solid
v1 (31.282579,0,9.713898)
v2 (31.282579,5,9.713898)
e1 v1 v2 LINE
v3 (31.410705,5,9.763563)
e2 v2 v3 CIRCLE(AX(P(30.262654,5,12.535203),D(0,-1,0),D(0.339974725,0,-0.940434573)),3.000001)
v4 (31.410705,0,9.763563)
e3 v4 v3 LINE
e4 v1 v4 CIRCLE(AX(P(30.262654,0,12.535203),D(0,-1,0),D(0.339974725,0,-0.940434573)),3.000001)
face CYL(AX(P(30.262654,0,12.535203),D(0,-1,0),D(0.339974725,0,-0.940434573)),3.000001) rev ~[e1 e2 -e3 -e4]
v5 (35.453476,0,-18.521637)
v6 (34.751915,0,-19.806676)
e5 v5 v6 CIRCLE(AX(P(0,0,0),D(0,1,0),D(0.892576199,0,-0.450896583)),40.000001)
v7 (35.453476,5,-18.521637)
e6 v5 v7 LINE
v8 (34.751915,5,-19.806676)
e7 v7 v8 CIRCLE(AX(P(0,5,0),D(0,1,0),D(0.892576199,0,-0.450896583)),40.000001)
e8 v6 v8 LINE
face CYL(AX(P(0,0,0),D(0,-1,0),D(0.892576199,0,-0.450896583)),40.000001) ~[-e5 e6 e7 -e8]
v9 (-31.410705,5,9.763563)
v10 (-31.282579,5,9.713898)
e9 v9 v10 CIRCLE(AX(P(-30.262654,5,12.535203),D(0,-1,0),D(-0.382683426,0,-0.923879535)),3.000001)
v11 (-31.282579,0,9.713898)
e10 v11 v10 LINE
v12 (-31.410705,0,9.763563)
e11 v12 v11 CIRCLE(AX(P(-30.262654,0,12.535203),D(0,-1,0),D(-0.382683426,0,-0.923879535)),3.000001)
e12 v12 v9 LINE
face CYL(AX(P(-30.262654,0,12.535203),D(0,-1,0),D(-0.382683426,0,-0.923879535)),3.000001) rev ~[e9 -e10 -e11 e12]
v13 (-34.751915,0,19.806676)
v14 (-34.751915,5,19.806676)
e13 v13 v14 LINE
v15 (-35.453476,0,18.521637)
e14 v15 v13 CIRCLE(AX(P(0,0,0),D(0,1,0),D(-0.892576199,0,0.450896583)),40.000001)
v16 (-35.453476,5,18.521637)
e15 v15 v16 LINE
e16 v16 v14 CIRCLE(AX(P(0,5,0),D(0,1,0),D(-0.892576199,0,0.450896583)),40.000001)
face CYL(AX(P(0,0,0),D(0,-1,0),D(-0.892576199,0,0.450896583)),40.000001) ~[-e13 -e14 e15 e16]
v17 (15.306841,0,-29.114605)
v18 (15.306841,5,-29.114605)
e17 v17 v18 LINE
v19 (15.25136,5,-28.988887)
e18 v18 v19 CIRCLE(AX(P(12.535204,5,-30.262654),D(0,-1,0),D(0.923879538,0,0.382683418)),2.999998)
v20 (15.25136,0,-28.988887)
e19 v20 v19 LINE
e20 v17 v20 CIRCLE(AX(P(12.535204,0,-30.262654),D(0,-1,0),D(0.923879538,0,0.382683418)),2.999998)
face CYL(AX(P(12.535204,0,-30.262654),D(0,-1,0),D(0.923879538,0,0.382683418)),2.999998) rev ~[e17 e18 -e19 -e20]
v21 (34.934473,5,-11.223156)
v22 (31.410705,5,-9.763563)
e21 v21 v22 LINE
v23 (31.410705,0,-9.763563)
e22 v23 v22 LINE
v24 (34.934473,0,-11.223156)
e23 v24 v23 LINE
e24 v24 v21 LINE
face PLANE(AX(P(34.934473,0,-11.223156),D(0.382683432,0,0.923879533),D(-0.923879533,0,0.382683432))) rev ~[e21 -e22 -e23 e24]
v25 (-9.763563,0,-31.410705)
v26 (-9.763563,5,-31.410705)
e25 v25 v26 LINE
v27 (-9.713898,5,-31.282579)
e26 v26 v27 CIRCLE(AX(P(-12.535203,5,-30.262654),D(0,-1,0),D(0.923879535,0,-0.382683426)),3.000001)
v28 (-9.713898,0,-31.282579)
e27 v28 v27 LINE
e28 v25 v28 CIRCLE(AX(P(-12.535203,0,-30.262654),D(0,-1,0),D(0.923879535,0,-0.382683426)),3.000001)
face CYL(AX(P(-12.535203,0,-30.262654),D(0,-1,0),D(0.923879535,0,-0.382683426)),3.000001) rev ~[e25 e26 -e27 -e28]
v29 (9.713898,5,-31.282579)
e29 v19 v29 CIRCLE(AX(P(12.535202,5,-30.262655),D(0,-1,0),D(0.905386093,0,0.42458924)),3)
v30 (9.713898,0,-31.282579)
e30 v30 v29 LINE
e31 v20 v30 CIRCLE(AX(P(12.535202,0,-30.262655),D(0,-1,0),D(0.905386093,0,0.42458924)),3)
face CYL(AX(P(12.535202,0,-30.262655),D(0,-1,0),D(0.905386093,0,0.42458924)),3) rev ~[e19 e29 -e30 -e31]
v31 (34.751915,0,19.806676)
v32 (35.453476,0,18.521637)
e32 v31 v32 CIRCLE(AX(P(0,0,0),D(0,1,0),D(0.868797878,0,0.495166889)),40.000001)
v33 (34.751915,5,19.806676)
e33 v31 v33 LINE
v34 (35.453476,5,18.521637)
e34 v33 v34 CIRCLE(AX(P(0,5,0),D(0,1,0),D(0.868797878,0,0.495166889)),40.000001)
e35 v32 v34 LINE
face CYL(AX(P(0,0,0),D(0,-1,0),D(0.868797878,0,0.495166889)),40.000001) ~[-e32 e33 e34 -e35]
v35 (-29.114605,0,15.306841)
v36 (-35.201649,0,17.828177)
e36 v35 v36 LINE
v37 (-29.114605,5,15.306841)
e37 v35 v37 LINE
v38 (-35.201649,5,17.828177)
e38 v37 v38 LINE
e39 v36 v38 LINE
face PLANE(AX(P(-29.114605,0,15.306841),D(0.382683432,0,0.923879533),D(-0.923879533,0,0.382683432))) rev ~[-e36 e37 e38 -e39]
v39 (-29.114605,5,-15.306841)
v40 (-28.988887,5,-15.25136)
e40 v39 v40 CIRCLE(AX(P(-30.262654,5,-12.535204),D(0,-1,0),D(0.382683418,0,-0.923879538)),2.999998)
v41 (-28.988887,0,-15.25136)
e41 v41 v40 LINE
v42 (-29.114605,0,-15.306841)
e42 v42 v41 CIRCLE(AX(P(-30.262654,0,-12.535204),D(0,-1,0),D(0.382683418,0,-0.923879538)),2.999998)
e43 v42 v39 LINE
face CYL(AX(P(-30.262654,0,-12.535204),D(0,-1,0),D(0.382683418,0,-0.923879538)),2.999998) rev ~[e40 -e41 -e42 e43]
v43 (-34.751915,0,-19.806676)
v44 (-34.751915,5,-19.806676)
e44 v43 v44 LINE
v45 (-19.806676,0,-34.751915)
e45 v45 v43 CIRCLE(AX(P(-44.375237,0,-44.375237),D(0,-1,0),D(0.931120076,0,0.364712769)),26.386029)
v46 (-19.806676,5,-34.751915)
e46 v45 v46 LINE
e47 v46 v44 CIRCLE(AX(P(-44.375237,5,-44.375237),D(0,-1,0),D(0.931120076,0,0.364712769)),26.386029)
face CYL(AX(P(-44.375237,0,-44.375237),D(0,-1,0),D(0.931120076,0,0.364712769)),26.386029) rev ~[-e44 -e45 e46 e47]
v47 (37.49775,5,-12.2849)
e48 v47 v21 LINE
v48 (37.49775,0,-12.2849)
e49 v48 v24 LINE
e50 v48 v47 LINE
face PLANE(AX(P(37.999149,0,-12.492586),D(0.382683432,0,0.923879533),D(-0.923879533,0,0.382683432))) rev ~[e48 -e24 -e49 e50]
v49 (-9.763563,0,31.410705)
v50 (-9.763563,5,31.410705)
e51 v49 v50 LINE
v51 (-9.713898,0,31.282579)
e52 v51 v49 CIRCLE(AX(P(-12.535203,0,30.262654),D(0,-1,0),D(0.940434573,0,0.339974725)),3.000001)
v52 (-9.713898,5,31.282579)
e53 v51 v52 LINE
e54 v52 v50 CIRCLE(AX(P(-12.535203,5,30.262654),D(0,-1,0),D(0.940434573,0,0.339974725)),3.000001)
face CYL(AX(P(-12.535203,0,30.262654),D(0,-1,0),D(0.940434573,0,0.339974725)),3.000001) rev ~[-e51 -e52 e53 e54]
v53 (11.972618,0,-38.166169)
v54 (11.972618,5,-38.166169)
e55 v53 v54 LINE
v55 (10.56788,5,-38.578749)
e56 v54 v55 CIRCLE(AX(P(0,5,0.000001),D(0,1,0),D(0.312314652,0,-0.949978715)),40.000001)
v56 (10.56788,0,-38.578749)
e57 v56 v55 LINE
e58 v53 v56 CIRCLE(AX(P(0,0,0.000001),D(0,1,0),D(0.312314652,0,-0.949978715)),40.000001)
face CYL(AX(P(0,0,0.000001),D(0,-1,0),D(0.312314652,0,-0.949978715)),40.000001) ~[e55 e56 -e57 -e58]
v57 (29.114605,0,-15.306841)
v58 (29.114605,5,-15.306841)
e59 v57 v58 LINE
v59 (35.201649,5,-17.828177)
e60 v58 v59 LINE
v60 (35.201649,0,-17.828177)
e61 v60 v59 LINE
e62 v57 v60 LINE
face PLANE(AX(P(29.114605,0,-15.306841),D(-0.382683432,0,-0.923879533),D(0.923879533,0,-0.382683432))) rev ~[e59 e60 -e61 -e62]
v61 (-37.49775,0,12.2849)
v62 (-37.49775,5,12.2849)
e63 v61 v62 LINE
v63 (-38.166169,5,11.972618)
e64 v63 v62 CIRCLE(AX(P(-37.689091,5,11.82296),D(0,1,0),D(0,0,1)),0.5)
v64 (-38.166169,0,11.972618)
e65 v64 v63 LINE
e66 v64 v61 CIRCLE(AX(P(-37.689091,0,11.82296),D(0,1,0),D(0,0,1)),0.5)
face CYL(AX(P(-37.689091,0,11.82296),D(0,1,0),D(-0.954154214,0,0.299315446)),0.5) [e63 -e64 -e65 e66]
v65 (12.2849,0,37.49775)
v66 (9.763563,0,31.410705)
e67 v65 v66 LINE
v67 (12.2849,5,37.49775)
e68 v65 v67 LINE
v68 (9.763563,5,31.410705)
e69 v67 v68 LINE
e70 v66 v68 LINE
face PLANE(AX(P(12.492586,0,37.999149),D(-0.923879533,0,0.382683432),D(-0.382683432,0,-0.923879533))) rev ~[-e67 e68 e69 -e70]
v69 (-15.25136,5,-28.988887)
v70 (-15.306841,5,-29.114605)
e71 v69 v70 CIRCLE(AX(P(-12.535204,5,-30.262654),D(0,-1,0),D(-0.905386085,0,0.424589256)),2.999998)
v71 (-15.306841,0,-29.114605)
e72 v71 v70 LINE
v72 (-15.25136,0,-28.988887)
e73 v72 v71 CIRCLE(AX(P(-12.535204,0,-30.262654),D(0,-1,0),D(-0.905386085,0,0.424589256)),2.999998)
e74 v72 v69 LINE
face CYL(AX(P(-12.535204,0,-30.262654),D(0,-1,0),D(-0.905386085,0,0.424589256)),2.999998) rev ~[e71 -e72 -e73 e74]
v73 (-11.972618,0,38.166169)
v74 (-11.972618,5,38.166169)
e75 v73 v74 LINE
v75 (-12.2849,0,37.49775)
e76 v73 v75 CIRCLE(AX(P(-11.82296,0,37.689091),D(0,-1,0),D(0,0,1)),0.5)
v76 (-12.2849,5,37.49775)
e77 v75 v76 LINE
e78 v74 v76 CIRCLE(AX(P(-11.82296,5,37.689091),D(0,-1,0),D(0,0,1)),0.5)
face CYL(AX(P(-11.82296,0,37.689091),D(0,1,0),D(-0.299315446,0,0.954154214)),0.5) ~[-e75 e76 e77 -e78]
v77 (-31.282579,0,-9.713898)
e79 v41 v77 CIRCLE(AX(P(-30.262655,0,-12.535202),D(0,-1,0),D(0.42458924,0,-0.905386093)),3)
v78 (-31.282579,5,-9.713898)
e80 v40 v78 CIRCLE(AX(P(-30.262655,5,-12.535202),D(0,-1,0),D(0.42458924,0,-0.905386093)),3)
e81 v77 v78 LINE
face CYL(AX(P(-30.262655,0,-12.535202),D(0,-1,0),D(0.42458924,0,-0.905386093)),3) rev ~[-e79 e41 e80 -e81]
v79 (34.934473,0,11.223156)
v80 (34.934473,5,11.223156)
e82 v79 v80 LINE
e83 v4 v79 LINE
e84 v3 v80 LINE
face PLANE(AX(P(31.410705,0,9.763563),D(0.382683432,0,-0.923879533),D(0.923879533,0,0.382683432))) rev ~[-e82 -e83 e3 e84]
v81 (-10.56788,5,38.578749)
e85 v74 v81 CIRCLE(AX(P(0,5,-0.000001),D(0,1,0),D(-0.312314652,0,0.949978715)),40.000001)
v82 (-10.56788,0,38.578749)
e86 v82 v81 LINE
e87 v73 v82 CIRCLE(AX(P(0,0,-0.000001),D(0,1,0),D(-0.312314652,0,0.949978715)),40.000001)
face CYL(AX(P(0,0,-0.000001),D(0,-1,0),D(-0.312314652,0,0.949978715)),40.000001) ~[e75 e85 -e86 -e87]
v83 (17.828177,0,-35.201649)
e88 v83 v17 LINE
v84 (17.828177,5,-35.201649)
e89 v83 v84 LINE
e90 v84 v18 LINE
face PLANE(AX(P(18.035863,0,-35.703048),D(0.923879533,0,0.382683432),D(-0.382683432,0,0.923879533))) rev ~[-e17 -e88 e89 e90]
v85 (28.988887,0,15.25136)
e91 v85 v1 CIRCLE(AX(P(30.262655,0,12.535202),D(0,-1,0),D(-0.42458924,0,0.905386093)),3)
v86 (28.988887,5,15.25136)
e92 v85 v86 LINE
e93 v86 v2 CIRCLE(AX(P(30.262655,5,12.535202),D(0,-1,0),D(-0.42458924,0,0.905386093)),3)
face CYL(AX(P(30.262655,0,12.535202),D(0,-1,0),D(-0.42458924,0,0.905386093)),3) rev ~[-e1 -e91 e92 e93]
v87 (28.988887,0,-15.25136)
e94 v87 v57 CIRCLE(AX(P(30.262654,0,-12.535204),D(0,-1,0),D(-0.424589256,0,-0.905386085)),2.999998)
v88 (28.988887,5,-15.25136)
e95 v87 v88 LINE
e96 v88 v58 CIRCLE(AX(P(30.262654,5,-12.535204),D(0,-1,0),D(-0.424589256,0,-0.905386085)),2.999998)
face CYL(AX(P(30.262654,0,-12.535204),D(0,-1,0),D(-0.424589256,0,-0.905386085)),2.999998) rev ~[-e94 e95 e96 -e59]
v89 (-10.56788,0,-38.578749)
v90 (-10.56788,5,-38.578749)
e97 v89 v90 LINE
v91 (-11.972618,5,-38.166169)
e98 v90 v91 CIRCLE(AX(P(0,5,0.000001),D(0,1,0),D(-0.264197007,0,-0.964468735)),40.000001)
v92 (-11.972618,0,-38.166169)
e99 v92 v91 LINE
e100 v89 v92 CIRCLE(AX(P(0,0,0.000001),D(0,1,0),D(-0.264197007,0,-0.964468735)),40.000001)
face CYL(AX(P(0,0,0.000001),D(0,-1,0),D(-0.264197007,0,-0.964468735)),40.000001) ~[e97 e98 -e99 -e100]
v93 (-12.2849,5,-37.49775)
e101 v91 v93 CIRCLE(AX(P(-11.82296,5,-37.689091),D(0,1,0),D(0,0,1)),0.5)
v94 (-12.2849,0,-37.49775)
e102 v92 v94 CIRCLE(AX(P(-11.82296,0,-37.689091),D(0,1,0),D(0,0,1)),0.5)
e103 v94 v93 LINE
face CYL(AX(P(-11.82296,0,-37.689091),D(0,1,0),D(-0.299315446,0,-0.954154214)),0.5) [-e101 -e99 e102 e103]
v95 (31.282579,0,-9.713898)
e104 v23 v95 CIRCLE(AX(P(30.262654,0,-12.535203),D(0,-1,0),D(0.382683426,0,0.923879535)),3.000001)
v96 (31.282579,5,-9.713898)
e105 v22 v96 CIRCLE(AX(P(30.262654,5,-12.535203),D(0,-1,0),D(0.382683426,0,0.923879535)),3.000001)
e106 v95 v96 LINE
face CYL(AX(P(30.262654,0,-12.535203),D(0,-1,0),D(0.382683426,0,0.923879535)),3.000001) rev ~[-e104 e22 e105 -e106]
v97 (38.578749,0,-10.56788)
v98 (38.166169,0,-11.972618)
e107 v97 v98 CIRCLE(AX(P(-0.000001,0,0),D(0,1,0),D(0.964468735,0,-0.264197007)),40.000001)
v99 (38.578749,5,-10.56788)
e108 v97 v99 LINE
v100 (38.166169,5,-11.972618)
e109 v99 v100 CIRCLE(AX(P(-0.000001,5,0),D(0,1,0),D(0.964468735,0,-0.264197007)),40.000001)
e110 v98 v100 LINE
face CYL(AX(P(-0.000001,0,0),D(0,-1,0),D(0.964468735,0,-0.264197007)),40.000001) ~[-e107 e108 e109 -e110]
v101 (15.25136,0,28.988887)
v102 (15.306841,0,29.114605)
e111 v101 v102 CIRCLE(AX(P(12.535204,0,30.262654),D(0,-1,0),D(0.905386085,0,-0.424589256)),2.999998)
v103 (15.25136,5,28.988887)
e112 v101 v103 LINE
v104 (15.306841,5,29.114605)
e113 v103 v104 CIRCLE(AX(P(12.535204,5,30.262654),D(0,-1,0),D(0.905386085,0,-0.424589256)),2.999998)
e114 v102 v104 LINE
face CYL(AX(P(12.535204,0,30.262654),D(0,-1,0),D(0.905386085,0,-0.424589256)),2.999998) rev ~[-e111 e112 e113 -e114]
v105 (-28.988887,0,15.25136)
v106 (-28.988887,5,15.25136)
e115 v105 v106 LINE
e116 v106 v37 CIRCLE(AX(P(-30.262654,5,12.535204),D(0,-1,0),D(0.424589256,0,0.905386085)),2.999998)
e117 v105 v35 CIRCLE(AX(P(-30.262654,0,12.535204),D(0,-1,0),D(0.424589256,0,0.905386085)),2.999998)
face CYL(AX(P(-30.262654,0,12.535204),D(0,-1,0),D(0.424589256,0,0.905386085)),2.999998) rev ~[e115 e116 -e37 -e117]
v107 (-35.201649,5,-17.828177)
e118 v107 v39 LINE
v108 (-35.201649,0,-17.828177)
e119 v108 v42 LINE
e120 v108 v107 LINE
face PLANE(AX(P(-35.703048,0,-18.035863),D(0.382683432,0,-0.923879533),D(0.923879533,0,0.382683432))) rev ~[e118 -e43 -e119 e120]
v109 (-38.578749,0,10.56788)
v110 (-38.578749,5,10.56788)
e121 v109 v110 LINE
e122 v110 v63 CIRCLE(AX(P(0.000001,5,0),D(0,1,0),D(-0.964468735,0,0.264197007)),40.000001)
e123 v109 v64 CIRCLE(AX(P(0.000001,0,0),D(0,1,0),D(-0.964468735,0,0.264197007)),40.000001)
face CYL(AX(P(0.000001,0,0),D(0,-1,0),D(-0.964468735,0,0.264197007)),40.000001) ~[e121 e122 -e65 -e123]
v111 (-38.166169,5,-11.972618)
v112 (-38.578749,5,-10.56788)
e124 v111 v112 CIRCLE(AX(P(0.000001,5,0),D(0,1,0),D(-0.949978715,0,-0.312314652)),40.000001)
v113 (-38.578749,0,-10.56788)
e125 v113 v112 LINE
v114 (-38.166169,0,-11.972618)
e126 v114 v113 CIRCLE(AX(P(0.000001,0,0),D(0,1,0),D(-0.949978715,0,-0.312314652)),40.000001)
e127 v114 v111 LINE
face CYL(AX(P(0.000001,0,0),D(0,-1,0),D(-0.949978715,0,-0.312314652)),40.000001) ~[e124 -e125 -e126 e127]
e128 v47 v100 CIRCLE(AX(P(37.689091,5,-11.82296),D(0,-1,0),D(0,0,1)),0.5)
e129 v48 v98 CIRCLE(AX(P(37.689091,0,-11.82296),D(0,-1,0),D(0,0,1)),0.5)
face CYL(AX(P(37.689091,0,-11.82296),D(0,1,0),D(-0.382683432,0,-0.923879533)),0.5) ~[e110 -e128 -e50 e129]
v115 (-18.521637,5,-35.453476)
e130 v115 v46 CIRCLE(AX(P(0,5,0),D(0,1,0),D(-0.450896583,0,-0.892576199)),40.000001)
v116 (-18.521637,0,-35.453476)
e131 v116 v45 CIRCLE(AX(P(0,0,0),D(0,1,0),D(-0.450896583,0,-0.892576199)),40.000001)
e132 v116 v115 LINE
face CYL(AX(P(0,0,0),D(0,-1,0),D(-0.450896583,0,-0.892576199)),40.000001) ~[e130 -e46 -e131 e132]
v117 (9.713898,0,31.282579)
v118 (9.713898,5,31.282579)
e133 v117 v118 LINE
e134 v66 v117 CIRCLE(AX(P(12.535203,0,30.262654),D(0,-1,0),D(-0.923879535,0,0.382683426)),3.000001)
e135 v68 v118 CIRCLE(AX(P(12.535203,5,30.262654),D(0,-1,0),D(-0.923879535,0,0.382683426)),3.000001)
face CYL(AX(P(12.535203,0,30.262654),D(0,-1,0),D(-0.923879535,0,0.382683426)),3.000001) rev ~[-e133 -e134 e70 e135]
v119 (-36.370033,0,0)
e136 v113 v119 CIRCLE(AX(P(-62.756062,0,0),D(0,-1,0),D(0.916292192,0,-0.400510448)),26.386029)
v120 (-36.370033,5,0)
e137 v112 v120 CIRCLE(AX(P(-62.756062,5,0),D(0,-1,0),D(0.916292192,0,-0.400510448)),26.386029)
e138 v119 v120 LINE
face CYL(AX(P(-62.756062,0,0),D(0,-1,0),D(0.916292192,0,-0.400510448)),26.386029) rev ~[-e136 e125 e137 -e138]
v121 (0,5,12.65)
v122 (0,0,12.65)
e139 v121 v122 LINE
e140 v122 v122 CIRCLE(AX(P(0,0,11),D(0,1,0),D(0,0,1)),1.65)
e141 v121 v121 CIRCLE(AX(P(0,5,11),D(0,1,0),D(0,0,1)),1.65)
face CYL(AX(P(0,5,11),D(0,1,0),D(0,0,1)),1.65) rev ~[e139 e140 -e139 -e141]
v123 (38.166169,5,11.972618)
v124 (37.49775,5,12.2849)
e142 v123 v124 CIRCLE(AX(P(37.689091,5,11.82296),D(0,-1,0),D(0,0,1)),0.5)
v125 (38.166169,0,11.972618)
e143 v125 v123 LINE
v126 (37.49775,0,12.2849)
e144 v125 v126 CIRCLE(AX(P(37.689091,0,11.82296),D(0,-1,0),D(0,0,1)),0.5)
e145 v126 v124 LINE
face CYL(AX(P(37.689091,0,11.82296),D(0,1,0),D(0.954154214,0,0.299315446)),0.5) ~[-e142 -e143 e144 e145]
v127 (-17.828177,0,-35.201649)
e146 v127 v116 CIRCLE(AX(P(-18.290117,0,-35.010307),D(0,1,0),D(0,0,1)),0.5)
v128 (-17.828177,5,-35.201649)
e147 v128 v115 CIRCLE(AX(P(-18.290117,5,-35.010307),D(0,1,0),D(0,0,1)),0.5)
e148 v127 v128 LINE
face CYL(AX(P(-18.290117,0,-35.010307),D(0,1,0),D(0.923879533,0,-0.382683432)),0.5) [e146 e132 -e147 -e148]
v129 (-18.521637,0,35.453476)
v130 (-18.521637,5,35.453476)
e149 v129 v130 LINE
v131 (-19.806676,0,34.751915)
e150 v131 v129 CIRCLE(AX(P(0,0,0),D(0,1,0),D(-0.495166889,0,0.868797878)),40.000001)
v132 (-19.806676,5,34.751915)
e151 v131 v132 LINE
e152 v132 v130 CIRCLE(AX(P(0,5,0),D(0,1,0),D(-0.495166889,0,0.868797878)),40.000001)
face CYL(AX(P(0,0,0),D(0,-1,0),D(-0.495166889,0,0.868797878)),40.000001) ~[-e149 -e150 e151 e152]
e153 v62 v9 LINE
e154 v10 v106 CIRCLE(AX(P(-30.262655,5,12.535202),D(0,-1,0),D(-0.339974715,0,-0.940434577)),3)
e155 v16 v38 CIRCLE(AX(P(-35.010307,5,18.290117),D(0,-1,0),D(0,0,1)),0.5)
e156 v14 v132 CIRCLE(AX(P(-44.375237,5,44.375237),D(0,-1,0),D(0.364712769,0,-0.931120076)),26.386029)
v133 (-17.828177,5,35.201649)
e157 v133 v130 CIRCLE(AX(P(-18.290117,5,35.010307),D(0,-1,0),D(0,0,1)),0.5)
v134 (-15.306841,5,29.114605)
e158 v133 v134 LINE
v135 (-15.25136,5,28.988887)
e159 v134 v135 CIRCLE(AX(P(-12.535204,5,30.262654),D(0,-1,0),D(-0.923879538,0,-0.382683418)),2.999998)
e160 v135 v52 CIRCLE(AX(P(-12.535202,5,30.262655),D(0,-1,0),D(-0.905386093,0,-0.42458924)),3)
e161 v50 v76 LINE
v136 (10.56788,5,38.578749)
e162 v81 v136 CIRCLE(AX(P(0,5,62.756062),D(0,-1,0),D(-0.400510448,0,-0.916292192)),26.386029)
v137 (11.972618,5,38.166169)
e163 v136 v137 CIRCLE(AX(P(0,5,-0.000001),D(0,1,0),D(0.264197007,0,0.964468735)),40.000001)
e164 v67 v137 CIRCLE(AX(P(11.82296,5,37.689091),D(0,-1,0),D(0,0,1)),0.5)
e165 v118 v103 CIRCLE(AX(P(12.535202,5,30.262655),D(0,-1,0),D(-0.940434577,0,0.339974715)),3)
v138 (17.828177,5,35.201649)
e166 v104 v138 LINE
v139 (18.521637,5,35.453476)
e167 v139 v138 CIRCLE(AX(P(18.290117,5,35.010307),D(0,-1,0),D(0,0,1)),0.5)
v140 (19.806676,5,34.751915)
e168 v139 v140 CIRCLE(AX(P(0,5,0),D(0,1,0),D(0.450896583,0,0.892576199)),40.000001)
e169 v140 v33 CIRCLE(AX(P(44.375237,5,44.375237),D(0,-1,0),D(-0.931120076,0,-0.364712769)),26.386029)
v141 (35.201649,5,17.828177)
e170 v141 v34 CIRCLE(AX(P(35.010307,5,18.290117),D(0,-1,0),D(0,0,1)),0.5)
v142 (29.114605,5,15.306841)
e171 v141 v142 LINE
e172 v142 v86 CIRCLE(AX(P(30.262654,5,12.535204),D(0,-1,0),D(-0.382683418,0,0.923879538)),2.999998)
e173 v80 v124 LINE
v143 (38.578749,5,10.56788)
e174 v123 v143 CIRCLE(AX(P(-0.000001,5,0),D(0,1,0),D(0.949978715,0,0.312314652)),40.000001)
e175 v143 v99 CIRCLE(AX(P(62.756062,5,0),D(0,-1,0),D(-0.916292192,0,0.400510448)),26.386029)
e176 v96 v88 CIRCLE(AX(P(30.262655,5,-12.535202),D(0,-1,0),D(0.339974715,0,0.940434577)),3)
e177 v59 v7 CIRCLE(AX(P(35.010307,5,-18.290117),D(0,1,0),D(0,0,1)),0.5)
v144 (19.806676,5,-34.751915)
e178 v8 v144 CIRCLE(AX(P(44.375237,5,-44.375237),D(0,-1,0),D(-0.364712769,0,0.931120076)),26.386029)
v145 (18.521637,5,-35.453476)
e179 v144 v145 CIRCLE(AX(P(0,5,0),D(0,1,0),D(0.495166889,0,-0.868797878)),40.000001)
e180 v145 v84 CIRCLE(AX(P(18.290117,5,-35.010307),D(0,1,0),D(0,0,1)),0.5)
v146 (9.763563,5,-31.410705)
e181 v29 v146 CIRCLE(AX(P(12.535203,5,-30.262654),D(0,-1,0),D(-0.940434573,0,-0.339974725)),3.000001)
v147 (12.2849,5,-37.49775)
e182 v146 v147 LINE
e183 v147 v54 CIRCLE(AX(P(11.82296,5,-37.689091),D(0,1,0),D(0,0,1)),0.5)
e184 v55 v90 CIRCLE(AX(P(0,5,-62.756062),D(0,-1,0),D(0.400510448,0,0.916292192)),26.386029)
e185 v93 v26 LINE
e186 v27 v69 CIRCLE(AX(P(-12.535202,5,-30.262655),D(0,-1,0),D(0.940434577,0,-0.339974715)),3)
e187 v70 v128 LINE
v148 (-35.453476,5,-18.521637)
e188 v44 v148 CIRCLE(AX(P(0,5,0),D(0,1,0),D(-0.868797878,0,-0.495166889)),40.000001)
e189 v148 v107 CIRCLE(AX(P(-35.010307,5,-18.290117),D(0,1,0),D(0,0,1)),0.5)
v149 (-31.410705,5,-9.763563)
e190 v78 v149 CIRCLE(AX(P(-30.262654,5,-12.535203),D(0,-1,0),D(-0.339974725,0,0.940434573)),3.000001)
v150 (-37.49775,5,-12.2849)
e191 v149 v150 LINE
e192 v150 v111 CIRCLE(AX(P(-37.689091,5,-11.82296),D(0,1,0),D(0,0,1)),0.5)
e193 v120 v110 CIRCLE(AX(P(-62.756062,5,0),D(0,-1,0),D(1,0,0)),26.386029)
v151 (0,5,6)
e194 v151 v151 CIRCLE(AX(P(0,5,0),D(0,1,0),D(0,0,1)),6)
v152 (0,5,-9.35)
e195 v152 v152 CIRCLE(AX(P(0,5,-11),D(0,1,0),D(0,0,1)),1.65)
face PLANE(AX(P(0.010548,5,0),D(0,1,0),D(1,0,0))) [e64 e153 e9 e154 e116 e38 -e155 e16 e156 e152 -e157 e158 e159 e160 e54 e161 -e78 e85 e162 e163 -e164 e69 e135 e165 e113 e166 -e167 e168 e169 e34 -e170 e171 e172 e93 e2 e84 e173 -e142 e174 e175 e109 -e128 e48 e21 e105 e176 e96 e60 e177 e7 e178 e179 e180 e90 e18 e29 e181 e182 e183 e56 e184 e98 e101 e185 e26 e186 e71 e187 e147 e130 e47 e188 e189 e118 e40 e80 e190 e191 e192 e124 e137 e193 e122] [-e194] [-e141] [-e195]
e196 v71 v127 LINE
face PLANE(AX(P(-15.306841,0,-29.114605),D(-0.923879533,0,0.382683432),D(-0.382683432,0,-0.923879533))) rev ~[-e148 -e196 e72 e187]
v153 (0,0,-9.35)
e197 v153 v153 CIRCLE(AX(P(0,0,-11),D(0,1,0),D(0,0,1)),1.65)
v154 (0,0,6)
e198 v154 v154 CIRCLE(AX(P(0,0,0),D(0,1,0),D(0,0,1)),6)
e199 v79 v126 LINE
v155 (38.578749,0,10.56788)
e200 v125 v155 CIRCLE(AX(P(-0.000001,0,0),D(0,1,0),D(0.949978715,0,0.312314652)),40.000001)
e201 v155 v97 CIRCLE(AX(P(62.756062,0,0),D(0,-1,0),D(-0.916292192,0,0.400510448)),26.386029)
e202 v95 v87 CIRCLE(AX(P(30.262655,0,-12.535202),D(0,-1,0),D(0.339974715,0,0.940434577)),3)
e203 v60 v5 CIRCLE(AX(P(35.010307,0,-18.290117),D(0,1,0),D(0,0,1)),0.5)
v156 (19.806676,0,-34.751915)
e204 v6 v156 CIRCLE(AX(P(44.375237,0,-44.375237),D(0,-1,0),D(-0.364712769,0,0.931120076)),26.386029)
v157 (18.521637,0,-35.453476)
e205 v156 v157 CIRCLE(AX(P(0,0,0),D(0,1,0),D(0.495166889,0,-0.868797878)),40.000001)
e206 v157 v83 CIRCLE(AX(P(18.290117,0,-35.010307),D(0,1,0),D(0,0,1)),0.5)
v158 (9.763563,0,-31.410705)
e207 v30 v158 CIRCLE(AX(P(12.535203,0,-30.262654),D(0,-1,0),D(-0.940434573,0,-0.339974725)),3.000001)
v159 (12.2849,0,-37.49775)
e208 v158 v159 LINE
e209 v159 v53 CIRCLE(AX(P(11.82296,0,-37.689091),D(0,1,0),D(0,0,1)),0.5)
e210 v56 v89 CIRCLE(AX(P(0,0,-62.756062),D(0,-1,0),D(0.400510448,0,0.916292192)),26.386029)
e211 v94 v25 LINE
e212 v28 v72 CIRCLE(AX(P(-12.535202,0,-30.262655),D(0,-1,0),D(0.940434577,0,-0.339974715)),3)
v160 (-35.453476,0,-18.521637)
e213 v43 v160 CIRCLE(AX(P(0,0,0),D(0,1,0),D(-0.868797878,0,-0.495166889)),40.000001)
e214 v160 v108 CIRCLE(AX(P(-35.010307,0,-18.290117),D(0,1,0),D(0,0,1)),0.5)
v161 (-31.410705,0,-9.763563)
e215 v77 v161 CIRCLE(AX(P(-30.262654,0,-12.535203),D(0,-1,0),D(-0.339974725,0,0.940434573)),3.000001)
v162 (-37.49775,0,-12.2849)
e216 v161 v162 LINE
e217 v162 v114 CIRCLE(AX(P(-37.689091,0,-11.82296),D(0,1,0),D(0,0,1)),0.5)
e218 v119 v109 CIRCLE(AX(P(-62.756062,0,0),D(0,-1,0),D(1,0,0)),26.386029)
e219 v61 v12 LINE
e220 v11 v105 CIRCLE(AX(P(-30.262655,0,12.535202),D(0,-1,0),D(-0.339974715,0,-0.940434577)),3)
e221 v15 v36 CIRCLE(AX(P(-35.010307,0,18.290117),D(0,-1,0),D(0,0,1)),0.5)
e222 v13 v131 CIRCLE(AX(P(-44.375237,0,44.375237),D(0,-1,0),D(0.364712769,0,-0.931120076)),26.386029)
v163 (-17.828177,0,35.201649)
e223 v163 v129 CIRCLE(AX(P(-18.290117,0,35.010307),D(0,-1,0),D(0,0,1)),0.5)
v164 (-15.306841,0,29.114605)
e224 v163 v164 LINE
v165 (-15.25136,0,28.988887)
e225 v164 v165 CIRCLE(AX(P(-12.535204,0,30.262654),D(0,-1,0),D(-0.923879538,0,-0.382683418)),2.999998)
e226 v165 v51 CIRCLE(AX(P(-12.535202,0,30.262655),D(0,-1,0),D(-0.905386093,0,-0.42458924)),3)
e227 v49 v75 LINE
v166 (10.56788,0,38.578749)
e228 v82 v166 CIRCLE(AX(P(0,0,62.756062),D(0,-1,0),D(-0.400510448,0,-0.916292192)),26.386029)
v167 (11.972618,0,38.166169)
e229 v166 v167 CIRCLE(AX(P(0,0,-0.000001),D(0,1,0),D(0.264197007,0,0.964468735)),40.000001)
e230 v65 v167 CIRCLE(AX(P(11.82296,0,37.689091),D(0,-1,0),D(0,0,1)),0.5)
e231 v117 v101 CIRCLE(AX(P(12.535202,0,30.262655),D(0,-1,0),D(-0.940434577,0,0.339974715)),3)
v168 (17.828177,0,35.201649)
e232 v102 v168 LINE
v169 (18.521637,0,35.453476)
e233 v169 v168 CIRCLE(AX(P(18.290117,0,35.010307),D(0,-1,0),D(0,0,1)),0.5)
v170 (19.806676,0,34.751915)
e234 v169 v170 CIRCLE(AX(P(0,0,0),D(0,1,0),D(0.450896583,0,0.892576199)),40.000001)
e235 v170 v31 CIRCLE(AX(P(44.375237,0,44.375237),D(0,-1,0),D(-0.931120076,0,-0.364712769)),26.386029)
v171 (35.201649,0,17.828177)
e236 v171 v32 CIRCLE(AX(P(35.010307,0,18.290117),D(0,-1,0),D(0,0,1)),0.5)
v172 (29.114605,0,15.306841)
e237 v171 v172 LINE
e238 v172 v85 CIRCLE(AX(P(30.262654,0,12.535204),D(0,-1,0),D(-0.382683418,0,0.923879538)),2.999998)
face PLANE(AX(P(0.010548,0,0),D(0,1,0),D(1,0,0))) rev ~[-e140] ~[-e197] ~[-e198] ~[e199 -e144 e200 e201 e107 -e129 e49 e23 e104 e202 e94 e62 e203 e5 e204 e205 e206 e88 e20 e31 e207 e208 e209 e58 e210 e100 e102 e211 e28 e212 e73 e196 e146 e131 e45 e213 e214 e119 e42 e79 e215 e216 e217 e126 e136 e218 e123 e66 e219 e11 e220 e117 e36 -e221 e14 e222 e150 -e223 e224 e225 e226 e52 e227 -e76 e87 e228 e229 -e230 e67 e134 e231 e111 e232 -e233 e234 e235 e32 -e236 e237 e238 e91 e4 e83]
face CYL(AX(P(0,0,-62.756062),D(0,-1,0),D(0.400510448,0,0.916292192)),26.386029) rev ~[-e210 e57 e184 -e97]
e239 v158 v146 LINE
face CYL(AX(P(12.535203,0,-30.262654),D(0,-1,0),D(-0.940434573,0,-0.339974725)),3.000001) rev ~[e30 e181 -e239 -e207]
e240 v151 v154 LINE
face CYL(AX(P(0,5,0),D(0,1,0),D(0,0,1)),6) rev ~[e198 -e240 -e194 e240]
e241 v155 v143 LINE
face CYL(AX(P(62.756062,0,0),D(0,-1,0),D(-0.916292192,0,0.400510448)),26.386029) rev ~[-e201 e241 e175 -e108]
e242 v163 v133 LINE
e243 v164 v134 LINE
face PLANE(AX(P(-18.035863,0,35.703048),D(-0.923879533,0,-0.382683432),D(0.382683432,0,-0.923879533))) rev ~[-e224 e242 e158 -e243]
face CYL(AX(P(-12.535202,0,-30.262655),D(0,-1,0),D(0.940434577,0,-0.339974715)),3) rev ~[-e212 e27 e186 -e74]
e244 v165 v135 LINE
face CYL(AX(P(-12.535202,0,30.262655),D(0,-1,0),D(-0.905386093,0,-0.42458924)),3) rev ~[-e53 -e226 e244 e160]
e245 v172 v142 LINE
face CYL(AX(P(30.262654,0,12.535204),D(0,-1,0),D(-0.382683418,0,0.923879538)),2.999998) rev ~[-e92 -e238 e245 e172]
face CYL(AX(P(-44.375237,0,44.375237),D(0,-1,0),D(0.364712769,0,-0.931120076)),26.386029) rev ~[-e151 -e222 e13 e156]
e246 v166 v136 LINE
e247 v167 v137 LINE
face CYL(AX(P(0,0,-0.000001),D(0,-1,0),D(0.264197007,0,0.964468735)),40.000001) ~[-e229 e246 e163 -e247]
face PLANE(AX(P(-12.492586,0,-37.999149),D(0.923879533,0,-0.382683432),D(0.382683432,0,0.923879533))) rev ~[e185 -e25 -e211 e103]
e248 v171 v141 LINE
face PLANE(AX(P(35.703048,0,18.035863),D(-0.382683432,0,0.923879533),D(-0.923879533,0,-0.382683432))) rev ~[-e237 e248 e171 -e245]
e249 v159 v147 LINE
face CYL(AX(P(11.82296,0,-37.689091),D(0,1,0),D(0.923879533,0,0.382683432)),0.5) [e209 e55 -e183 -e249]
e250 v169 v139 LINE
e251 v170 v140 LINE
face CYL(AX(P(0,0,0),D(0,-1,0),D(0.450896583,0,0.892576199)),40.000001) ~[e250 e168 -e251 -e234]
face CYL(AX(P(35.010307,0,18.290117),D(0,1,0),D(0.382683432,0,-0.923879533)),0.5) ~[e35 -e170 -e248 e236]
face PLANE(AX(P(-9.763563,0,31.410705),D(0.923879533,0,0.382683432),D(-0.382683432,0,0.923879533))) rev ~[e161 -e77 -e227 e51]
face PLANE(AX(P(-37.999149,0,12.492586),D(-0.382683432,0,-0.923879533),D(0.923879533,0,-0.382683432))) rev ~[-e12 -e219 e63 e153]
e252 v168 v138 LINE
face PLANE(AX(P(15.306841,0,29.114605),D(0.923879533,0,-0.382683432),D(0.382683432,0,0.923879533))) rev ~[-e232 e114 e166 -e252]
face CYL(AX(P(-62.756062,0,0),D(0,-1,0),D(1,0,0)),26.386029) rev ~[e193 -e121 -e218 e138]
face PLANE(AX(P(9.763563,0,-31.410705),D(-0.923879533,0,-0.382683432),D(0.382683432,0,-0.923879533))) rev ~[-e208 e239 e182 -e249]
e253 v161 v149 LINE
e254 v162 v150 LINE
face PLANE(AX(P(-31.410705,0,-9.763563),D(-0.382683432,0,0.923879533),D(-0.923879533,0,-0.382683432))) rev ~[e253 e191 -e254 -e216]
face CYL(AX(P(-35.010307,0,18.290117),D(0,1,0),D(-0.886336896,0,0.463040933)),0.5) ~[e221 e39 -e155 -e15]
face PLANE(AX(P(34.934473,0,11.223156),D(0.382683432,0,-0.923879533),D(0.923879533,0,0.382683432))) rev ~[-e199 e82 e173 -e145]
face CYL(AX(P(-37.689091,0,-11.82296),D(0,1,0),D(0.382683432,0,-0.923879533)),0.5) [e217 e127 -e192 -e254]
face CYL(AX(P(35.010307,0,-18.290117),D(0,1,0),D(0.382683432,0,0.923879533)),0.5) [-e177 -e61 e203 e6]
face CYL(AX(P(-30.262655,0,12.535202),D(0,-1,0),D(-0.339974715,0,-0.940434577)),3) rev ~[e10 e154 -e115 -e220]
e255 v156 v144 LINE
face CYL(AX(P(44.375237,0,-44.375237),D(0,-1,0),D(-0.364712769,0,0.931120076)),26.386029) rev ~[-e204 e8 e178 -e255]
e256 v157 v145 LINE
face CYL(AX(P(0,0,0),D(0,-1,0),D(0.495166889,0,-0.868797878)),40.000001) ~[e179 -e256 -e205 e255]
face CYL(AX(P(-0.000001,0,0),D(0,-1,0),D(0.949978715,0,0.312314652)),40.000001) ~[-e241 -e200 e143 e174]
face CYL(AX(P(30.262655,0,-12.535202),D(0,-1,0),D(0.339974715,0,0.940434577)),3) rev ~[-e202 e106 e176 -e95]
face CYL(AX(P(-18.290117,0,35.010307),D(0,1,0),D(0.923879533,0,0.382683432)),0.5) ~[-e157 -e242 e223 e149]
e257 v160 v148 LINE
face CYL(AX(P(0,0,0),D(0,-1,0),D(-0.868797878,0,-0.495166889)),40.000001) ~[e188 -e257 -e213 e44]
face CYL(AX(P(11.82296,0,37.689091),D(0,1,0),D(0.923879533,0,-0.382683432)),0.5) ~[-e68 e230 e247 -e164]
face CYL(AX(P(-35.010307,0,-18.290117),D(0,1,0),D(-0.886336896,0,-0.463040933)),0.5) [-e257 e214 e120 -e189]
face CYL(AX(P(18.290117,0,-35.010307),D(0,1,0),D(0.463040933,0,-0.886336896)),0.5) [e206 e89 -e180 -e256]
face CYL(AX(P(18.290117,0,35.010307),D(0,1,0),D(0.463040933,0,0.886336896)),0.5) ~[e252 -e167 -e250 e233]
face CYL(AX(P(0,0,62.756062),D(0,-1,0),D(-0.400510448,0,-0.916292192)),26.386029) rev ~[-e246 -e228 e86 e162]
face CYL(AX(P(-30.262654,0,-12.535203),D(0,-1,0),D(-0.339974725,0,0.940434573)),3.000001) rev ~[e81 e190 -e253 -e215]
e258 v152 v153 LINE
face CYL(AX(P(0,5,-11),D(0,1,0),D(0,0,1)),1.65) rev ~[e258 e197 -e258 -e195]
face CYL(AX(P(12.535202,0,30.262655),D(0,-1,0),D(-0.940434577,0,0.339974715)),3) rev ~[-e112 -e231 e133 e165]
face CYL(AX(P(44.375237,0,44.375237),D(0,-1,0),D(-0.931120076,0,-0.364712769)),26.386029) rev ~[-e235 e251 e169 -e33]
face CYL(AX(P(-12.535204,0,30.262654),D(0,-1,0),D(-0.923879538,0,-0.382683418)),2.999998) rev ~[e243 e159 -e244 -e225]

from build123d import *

# Parameters (mm, degrees)
BOSS_EXTRUDE1_DEPTH = 5
SKETCH3_R           = 1.65
SKETCH3_R_2         = 6
CUT_EXTRUDE1_DEPTH  = 10
FILLET2_R           = 0.5


with BuildPart() as part:
    # Sketch2 → Boss-Extrude1 (new body)
    with BuildSketch(Plane(origin=(0, 0, 0), x_dir=(1, 0, 0), z_dir=(0, 1, 0))):
        with BuildLine():
            ThreePointArc((31.282579036, -9.713898359), (32.385596017, -4.912508835), (32.756061614, 0))
            ThreePointArc((32.756061614, 0), (32.385596017, 4.912508835), (31.282579036, 9.713898359))
            ThreePointArc((31.282579036, 9.713898359), (27.491016293, 11.387151792), (28.988887171, 15.251360368))
            ThreePointArc((28.988887171, 15.251360368), (23.162033292, 23.162033292), (15.251360368, 28.988887171))
            ThreePointArc((15.251360368, 28.988887171), (11.387151792, 27.491016293), (9.713898359, 31.282579036))
            ThreePointArc((9.713898359, 31.282579036), (0, 32.756061614), (-9.713898359, 31.282579036))
            ThreePointArc((-9.713898359, 31.282579036), (-11.387151792, 27.491016293), (-15.251360368, 28.988887171))
            ThreePointArc((-15.251360368, 28.988887171), (-23.162033292, 23.162033292), (-28.988887171, 15.251360368))
            ThreePointArc((-28.988887171, 15.251360368), (-27.491016293, 11.387151792), (-31.282579036, 9.713898359))
            ThreePointArc((-31.282579036, 9.713898359), (-32.756061614, 0), (-31.282579036, -9.713898359))
            ThreePointArc((-31.282579036, -9.713898359), (-27.491016293, -11.387151792), (-28.988887171, -15.251360368))
            ThreePointArc((-28.988887171, -15.251360368), (-23.162033292, -23.162033292), (-15.251360368, -28.988887171))
            ThreePointArc((-15.251360368, -28.988887171), (-11.387151792, -27.491016293), (-9.713898359, -31.282579036))
            ThreePointArc((-9.713898359, -31.282579036), (0, -32.756061614), (9.713898359, -31.282579036))
            ThreePointArc((9.713898359, -31.282579036), (11.387151792, -27.491016293), (15.251360368, -28.988887171))
            ThreePointArc((15.251360368, -28.988887171), (23.162033292, -23.162033292), (28.988887171, -15.251360368))
            ThreePointArc((28.988887171, -15.251360368), (27.491016293, -11.387151792), (31.282579036, -9.713898359))
        make_face()
        with BuildLine():
            Line((9.763563492, 31.410705188), (12.492586098, 37.999148577))
            ThreePointArc((12.492586098, 37.999148577), (11.533874506, 38.301040963), (10.567880231, 38.578749428))
            ThreePointArc((10.567880231, 38.578749428), (0, 36.37003279), (-10.567880231, 38.578749428))
            ThreePointArc((-10.567880231, 38.578749428), (-11.533874506, 38.301040963), (-12.492586098, 37.999148577))
            Line((-12.492586098, 37.999148577), (-9.763563492, 31.410705188))
            ThreePointArc((-9.763563492, 31.410705188), (-9.737997226, 31.346926513), (-9.713898359, 31.282579036))
            ThreePointArc((-9.713898359, 31.282579036), (0, 32.756061614), (9.713898359, 31.282579036))
            ThreePointArc((9.713898359, 31.282579036), (9.737997226, 31.346926513), (9.763563492, 31.410705188))
        make_face()
        with BuildLine():
            ThreePointArc((-18.035863293, 35.703047983), (-18.927244915, 35.238606668), (-19.806675556, 34.751915104))
            ThreePointArc((-19.806675556, 34.751915104), (-25.717496818, 25.717496818), (-34.751915104, 19.806675556))
            ThreePointArc((-34.751915104, 19.806675556), (-35.238606668, 18.927244915), (-35.703047983, 18.035863293))
            Line((-35.703047983, 18.035863293), (-29.114604594, 15.306840687))
            ThreePointArc((-29.114604594, 15.306840687), (-29.05142818, 15.279820434), (-28.988887171, 15.251360368))
            ThreePointArc((-28.988887171, 15.251360368), (-23.162033292, 23.162033292), (-15.251360368, 28.988887171))
            ThreePointArc((-15.251360368, 28.988887171), (-15.279820434, 29.05142818), (-15.306840687, 29.114604594))
            Line((-15.306840687, 29.114604594), (-18.035863293, 35.703047983))
        make_face()
        with BuildLine():
            ThreePointArc((-37.999148577, 12.492586098), (-38.301040963, 11.533874506), (-38.578749428, 10.567880231))
            ThreePointArc((-38.578749428, 10.567880231), (-36.928113831, 5.3981136), (-36.37003279, 0))
            ThreePointArc((-36.37003279, 0), (-36.928113831, -5.3981136), (-38.578749428, -10.567880231))
            ThreePointArc((-38.578749428, -10.567880231), (-38.301040963, -11.533874506), (-37.999148577, -12.492586098))
            Line((-37.999148577, -12.492586098), (-31.410705188, -9.763563492))
            ThreePointArc((-31.410705188, -9.763563492), (-31.346926513, -9.737997226), (-31.282579036, -9.713898359))
            ThreePointArc((-31.282579036, -9.713898359), (-32.756061614, 0), (-31.282579036, 9.713898359))
            ThreePointArc((-31.282579036, 9.713898359), (-31.346926513, 9.737997226), (-31.410705188, 9.763563492))
            Line((-31.410705188, 9.763563492), (-37.999148577, 12.492586098))
        make_face()
        with BuildLine():
            ThreePointArc((-15.306840687, -29.114604594), (-15.279820434, -29.05142818), (-15.251360368, -28.988887171))
            ThreePointArc((-15.251360368, -28.988887171), (-23.162033292, -23.162033292), (-28.988887171, -15.251360368))
            ThreePointArc((-28.988887171, -15.251360368), (-29.05142818, -15.279820434), (-29.114604594, -15.306840687))
            Line((-29.114604594, -15.306840687), (-35.703047983, -18.035863293))
            ThreePointArc((-35.703047983, -18.035863293), (-35.238606668, -18.927244915), (-34.751915104, -19.806675556))
            ThreePointArc((-34.751915104, -19.806675556), (-25.717496818, -25.717496818), (-19.806675556, -34.751915104))
            ThreePointArc((-19.806675556, -34.751915104), (-18.927244915, -35.238606668), (-18.035863293, -35.703047983))
            Line((-18.035863293, -35.703047983), (-15.306840687, -29.114604594))
        make_face()
        with BuildLine():
            ThreePointArc((9.763563492, -31.410705188), (9.737997226, -31.346926513), (9.713898359, -31.282579036))
            ThreePointArc((9.713898359, -31.282579036), (0, -32.756061614), (-9.713898359, -31.282579036))
            ThreePointArc((-9.713898359, -31.282579036), (-9.737997226, -31.346926513), (-9.763563492, -31.410705188))
            Line((-9.763563492, -31.410705188), (-12.492586098, -37.999148577))
            ThreePointArc((-12.492586098, -37.999148577), (-11.533874506, -38.301040963), (-10.567880231, -38.578749428))
            ThreePointArc((-10.567880231, -38.578749428), (0, -36.37003279), (10.567880231, -38.578749428))
            ThreePointArc((10.567880231, -38.578749428), (11.533874506, -38.301040963), (12.492586098, -37.999148577))
            Line((12.492586098, -37.999148577), (9.763563492, -31.410705188))
        make_face()
        with BuildLine():
            ThreePointArc((29.114604594, -15.306840687), (29.05142818, -15.279820434), (28.988887171, -15.251360368))
            ThreePointArc((28.988887171, -15.251360368), (23.162033292, -23.162033292), (15.251360368, -28.988887171))
            ThreePointArc((15.251360368, -28.988887171), (15.279820434, -29.05142818), (15.306840687, -29.114604594))
            Line((15.306840687, -29.114604594), (18.035863293, -35.703047983))
            ThreePointArc((18.035863293, -35.703047983), (18.927244915, -35.238606668), (19.806675556, -34.751915104))
            ThreePointArc((19.806675556, -34.751915104), (25.717496818, -25.717496818), (34.751915104, -19.806675556))
            ThreePointArc((34.751915104, -19.806675556), (35.238606668, -18.927244915), (35.703047983, -18.035863293))
            Line((35.703047983, -18.035863293), (29.114604594, -15.306840687))
        make_face()
        with BuildLine():
            ThreePointArc((34.934473466, -11.223156103), (33.305699609, -5.716308055), (32.756061614, 0))
            ThreePointArc((32.756061614, 0), (32.385596017, -4.912508835), (31.282579036, -9.713898359))
            ThreePointArc((31.282579036, -9.713898359), (31.346926513, -9.737997226), (31.410705188, -9.763563492))
            Line((31.410705188, -9.763563492), (34.934473466, -11.223156103))
        make_face()
        with BuildLine():
            ThreePointArc((38.578749428, 10.567880231), (38.301040963, 11.533874506), (37.999148577, 12.492586098))
            Line((37.999148577, 12.492586098), (34.934473466, 11.223156103))
            ThreePointArc((34.934473466, 11.223156103), (33.305699609, 5.716308055), (32.756061614, 0))
            ThreePointArc((32.756061614, 0), (33.305699609, -5.716308055), (34.934473466, -11.223156103))
            Line((34.934473466, -11.223156103), (37.999148577, -12.492586098))
            ThreePointArc((37.999148577, -12.492586098), (38.301040963, -11.533874506), (38.578749428, -10.567880231))
            ThreePointArc((38.578749428, -10.567880231), (36.37003279, 0), (38.578749428, 10.567880231))
        make_face()
        with BuildLine():
            ThreePointArc((32.756061614, 0), (33.305699609, 5.716308055), (34.934473466, 11.223156103))
            Line((34.934473466, 11.223156103), (31.410705188, 9.763563492))
            ThreePointArc((31.410705188, 9.763563492), (31.346926513, 9.737997226), (31.282579036, 9.713898359))
            ThreePointArc((31.282579036, 9.713898359), (32.385596017, 4.912508835), (32.756061614, 0))
        make_face()
        with BuildLine():
            Line((29.114604594, 15.306840687), (35.703047983, 18.035863293))
            ThreePointArc((35.703047983, 18.035863293), (35.238606668, 18.927244915), (34.751915104, 19.806675556))
            ThreePointArc((34.751915104, 19.806675556), (25.717496818, 25.717496818), (19.806675556, 34.751915104))
            ThreePointArc((19.806675556, 34.751915104), (18.927244915, 35.238606668), (18.035863293, 35.703047983))
            Line((18.035863293, 35.703047983), (15.306840687, 29.114604594))
            ThreePointArc((15.306840687, 29.114604594), (15.279820434, 29.05142818), (15.251360368, 28.988887171))
            ThreePointArc((15.251360368, 28.988887171), (23.162033292, 23.162033292), (28.988887171, 15.251360368))
            ThreePointArc((28.988887171, 15.251360368), (29.05142818, 15.279820434), (29.114604594, 15.306840687))
        make_face()
    extrude(amount=BOSS_EXTRUDE1_DEPTH)

    # Sketch3 → Cut-Extrude1 (cut)
    with BuildSketch(Plane(origin=(0, 5, 0), x_dir=(1, 0, 0), z_dir=(0, 1, 0))):
        with Locations(Location((0, 11, 0), (0, 0, 270))):
            Circle(SKETCH3_R)
        with Locations(Location((0, 0, 0), (0, 0, 270))):
            Circle(SKETCH3_R_2)
        with Locations(Location((0, -11, 0), (0, 0, 270))):
            Circle(SKETCH3_R)
    extrude(amount=-CUT_EXTRUDE1_DEPTH, mode=Mode.SUBTRACT)

    # Fillet2
    fillet2_edges = [part.edges().sort_by_distance(p)[0] for p in [
        (18.035863293, 2.5, -35.703047983),
        (35.703047983, 2.5, -18.035863293),
        (37.999148577, 2.5, -12.492586098),
        (37.999148577, 2.5, 12.492586098),
        (35.703047983, 2.5, 18.035863293),
        (18.035863293, 2.5, 35.703047983),
        (12.492586098, 2.5, 37.999148577),
        (-12.492586098, 2.5, 37.999148577),
        (-18.035863293, 2.5, 35.703047983),
        (-35.703047983, 2.5, 18.035863293),
        (-37.999148577, 2.5, 12.492586098),
        (-37.999148577, 2.5, -12.492586098),
        (-35.703047983, 2.5, -18.035863293),
        (-18.035863293, 2.5, -35.703047983),
        (-12.492586098, 2.5, -37.999148577),
        (12.492586098, 2.5, -37.999148577),
    ]]
    fillet(fillet2_edges, radius=FILLET2_R)


solid = part.part
